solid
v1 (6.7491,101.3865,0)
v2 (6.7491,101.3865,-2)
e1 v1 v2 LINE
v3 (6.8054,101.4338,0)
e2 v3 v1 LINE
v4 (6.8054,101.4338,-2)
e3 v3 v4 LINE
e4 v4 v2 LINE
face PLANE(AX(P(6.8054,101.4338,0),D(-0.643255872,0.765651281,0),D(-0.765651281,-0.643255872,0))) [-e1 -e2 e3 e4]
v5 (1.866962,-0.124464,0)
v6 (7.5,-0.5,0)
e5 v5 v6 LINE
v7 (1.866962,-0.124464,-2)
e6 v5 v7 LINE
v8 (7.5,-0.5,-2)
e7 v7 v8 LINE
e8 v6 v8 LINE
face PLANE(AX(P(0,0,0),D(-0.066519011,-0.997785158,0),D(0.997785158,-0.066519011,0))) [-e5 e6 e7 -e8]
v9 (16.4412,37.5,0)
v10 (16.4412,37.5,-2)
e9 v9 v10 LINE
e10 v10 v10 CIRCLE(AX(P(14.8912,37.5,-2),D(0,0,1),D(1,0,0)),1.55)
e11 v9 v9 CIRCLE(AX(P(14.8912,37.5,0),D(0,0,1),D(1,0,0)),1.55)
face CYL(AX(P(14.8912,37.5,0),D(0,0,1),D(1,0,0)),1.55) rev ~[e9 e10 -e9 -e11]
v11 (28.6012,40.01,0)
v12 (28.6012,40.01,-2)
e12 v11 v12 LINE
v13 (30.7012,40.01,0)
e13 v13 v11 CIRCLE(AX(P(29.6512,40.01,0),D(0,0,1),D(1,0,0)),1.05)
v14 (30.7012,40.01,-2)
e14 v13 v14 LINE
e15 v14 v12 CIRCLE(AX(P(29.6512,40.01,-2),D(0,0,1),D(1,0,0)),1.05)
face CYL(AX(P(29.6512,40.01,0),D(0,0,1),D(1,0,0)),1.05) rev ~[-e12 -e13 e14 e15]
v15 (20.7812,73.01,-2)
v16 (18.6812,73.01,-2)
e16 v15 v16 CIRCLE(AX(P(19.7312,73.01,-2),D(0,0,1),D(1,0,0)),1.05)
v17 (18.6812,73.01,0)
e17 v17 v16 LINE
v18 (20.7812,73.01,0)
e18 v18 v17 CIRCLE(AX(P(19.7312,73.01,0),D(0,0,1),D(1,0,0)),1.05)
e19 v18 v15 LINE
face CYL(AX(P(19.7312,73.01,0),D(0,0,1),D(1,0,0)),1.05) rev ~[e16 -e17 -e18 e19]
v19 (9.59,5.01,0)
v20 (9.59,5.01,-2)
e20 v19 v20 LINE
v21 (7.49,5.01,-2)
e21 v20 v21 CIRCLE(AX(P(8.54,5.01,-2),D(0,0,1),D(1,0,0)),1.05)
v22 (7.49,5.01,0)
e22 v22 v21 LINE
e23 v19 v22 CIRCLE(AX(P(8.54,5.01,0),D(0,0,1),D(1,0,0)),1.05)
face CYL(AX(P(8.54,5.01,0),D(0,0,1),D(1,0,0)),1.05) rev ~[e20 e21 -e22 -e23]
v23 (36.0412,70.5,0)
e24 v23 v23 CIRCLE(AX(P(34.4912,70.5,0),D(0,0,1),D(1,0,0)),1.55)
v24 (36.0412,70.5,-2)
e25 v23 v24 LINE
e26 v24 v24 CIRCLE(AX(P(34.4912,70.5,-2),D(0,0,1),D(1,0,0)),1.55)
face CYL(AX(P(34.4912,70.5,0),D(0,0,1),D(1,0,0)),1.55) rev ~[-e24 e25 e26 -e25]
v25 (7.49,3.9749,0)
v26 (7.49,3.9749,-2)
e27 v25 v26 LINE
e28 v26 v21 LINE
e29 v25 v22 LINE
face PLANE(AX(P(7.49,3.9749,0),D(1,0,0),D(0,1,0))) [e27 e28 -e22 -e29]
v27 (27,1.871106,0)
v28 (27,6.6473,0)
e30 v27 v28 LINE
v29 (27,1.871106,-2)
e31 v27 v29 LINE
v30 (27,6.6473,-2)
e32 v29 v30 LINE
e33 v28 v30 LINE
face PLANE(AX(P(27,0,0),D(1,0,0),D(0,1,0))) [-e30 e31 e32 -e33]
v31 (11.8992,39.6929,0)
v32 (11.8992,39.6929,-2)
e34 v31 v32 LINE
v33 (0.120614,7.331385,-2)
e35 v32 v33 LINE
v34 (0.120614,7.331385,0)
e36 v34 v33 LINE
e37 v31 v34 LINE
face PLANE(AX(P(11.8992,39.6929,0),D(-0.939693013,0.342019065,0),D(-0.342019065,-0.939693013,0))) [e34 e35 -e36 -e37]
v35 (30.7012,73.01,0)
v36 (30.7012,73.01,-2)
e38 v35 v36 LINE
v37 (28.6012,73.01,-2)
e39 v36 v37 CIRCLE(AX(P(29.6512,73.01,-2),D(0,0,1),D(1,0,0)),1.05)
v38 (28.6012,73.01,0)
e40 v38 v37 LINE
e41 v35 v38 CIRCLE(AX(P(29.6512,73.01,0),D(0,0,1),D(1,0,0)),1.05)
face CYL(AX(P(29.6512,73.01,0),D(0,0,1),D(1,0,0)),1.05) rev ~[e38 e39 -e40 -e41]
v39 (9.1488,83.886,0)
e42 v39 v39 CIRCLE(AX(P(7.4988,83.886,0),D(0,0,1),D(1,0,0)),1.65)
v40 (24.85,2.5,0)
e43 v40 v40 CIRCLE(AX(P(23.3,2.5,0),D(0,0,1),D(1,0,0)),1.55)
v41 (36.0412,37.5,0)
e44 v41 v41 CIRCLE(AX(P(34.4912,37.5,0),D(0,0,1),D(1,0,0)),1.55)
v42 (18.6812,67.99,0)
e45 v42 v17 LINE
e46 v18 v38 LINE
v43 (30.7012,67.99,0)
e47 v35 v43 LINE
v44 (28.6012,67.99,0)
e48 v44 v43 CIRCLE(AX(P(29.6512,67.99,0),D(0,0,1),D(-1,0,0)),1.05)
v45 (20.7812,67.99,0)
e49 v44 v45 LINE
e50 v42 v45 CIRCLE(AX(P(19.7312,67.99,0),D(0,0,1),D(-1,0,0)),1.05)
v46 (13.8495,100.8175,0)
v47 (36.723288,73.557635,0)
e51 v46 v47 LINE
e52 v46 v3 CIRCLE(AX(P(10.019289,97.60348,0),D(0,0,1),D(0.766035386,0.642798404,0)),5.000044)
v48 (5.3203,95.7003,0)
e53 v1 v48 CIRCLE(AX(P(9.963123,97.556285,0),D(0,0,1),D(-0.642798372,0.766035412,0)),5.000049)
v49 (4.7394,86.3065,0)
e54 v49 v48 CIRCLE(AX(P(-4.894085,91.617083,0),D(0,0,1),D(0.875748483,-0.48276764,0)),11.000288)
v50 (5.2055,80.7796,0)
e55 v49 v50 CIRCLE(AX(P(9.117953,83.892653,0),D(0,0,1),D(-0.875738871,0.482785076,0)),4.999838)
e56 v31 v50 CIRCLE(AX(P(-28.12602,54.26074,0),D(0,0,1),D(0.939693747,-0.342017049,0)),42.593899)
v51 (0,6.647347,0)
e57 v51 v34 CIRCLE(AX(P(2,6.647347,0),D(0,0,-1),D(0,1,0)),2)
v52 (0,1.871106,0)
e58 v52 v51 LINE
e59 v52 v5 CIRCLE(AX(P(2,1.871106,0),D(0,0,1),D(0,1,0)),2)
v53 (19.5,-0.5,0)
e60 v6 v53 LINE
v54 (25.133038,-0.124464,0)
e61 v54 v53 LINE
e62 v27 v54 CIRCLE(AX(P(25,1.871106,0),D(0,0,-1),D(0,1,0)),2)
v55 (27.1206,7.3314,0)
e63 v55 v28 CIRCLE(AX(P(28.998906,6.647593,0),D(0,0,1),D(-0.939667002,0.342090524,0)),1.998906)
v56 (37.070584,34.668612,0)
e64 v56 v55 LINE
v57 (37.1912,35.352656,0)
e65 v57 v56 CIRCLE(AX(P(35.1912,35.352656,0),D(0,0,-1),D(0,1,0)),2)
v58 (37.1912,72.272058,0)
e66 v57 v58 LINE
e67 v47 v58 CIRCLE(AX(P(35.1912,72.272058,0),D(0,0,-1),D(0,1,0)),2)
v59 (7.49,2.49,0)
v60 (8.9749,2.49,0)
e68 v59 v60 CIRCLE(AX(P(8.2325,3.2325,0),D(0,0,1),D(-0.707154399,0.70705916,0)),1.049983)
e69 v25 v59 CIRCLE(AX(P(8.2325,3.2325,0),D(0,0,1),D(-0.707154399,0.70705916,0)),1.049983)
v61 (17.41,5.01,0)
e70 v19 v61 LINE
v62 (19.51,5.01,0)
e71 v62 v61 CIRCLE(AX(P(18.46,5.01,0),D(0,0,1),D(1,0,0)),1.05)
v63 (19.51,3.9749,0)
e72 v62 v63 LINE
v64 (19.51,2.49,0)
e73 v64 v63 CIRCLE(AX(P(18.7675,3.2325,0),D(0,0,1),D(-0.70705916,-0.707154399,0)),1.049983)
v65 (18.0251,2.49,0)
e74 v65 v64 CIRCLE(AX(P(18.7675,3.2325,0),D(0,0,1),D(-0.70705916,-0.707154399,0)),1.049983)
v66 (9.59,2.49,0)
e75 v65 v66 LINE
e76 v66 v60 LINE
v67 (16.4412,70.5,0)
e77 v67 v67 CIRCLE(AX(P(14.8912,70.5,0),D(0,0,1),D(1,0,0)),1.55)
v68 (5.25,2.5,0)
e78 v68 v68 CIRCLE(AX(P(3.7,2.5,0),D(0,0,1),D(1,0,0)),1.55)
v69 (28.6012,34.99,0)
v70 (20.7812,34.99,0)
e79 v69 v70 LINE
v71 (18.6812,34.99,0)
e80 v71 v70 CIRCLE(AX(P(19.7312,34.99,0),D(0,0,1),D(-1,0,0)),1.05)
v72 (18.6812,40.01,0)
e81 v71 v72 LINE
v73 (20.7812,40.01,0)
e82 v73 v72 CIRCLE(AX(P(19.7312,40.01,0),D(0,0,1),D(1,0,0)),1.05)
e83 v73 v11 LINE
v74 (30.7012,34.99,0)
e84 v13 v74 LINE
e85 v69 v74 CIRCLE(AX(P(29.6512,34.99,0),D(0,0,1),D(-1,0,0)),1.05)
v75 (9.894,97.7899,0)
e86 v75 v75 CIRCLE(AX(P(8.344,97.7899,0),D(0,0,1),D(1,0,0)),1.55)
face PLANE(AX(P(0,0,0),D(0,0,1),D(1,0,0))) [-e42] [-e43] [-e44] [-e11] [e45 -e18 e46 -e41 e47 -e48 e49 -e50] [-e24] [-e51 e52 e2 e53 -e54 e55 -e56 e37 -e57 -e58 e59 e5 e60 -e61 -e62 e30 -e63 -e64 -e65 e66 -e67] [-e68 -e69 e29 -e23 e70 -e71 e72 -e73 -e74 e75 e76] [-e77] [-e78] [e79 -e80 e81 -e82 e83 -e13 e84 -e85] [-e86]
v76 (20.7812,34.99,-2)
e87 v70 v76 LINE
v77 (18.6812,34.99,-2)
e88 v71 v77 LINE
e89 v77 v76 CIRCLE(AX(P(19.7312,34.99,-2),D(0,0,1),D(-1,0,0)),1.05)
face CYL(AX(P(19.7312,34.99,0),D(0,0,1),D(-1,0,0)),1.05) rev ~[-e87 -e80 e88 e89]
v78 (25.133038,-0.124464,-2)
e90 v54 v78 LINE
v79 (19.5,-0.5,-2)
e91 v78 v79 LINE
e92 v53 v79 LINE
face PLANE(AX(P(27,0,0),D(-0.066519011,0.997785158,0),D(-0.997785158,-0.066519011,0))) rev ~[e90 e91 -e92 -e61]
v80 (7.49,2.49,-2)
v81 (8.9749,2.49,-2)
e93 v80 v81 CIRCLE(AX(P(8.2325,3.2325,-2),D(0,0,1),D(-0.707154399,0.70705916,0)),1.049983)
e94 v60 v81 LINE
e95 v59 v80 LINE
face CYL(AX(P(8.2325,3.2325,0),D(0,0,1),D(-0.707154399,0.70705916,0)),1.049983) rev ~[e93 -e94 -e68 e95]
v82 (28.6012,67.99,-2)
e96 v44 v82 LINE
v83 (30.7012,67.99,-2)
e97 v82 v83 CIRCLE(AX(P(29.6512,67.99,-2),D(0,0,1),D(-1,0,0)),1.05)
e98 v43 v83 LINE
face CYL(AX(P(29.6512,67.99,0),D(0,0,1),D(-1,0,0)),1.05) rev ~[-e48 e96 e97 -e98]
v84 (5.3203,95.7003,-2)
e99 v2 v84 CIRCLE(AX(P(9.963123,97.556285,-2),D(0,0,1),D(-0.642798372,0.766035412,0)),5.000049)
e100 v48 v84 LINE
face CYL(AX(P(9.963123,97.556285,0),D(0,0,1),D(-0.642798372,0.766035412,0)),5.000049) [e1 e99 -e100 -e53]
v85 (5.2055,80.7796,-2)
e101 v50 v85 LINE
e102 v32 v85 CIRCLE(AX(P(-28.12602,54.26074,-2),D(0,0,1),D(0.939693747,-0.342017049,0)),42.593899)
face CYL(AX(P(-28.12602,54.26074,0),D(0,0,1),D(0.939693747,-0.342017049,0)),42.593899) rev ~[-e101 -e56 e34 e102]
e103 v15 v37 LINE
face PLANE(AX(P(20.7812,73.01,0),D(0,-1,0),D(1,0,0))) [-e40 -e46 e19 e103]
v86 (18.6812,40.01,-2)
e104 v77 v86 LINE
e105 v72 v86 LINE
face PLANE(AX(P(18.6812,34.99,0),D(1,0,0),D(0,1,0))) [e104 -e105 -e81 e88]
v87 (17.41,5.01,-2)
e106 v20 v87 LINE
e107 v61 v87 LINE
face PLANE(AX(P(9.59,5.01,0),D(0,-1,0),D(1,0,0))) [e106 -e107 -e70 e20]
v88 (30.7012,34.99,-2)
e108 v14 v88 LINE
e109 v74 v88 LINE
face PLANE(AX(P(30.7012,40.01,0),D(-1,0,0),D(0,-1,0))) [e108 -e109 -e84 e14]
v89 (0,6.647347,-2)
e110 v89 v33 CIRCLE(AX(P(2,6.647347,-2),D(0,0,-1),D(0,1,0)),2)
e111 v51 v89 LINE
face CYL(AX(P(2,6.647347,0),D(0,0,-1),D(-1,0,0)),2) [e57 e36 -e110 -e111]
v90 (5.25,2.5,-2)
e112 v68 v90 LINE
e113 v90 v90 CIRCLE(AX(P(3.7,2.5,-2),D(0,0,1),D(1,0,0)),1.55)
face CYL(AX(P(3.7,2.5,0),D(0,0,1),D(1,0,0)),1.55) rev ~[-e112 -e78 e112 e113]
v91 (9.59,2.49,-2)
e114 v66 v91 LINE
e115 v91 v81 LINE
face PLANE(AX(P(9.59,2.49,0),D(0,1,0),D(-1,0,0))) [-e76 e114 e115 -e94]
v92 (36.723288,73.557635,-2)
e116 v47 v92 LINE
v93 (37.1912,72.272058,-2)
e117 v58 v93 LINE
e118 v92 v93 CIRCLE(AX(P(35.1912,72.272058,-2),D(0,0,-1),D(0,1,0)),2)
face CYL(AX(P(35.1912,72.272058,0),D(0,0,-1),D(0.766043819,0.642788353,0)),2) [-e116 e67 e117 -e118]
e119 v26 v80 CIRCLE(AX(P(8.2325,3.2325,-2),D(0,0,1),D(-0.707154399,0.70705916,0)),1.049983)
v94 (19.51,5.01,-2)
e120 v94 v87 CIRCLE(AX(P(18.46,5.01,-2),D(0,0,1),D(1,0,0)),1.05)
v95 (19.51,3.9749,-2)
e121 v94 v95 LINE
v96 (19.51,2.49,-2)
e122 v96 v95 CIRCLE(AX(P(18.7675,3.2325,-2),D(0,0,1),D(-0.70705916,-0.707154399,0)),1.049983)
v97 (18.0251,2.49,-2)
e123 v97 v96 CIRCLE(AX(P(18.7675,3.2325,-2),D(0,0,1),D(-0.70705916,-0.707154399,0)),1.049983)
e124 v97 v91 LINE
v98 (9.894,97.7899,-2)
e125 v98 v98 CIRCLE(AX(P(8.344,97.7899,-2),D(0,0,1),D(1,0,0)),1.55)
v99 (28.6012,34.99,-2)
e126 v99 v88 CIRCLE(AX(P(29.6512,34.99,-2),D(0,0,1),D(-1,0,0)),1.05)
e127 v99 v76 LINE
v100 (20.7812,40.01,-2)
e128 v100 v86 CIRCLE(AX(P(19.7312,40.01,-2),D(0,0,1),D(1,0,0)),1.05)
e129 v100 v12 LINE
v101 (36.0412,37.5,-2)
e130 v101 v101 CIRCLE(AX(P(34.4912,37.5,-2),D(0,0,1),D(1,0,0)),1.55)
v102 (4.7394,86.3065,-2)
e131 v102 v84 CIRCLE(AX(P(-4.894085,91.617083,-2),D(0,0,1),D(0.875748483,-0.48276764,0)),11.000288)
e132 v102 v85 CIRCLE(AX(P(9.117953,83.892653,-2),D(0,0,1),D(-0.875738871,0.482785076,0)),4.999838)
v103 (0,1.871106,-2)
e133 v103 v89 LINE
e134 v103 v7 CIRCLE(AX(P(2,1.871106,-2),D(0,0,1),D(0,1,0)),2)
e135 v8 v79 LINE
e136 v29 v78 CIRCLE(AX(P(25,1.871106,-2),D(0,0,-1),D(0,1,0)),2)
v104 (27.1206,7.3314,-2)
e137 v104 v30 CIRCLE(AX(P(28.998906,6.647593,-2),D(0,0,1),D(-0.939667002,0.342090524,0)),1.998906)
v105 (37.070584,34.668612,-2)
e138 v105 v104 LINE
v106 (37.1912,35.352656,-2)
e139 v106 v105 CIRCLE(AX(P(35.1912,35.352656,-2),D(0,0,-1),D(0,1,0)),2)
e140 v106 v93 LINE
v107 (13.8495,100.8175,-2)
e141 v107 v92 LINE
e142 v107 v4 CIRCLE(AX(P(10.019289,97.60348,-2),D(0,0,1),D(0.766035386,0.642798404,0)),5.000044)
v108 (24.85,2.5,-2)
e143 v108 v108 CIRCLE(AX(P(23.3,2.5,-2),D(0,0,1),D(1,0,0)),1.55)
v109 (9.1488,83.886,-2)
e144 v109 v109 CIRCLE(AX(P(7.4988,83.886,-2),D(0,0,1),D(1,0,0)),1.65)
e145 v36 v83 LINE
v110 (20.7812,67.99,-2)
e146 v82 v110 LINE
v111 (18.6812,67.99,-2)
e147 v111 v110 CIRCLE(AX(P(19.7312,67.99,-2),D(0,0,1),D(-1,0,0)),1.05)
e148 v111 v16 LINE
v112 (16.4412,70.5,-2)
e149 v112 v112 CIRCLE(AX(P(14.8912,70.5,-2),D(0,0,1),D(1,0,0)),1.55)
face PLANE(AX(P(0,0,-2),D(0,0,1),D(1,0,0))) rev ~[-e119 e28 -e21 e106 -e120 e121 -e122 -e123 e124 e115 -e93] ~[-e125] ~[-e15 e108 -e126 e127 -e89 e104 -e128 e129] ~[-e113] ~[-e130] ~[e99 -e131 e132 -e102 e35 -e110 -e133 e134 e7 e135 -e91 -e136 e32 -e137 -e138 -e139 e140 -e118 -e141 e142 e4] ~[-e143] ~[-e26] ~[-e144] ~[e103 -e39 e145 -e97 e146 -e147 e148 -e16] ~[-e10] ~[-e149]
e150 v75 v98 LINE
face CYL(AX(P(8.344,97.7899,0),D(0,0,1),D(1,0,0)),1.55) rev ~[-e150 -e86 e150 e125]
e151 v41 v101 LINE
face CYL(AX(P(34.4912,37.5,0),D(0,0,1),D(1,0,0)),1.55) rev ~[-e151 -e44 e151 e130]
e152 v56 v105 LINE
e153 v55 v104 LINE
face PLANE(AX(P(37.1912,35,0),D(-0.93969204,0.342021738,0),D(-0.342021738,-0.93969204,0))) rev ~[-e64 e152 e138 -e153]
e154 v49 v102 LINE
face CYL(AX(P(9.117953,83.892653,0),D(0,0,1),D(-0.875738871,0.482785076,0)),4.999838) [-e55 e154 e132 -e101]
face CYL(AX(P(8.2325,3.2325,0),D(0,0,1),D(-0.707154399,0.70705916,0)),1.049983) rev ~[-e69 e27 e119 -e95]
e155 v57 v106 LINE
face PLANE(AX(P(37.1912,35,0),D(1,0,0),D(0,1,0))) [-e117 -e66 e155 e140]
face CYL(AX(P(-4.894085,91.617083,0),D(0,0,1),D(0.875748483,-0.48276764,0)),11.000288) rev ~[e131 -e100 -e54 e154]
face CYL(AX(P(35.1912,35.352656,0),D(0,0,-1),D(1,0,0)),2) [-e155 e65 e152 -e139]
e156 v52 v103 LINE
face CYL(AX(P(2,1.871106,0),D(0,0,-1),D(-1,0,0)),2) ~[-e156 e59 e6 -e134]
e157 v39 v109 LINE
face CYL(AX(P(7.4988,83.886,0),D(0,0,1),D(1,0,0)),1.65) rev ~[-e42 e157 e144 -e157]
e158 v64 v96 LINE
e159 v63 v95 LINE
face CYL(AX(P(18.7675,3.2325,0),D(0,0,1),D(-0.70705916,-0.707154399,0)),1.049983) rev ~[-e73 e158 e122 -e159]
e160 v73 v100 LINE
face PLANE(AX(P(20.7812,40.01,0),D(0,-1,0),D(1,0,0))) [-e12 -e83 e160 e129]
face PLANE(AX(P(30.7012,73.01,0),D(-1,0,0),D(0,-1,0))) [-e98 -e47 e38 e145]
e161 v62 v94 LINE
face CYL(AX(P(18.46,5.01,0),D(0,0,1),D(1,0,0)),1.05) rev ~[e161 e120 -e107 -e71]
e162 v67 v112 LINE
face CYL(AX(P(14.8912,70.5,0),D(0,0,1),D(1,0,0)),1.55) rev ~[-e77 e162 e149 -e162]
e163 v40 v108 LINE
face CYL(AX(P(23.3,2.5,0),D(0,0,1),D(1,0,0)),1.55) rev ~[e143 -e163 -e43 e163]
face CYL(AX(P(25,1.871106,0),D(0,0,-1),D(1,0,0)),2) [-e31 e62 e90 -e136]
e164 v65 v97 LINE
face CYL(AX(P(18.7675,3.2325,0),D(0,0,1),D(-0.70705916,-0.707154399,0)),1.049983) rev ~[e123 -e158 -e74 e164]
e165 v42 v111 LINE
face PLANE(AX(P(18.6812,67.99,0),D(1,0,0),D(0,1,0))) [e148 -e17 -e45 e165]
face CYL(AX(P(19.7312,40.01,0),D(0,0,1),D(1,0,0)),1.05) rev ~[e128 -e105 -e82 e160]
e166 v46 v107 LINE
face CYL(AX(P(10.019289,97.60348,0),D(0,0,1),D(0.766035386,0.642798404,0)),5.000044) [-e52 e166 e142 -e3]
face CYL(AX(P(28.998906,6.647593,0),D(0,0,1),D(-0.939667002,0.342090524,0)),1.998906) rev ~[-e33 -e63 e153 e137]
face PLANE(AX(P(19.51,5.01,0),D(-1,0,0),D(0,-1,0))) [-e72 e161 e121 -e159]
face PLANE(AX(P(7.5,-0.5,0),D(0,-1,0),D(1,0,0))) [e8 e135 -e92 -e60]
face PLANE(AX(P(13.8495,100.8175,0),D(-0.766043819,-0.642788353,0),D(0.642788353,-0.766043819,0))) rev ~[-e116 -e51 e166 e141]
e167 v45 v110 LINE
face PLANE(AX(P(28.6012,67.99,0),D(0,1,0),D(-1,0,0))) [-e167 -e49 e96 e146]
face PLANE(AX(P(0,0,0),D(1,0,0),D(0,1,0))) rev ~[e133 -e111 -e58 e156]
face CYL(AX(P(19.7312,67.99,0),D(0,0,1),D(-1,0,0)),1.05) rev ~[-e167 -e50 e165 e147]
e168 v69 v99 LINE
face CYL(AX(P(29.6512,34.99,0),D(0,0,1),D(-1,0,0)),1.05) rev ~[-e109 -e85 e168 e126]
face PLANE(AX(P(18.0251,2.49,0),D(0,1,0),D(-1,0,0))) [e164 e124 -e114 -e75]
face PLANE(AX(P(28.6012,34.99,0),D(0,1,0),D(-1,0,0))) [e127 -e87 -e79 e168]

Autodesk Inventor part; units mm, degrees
ref_plane "YZ Plane" through (0, 0, 0) normal (1, 0, 0) x (0, 1, 0)
ref_plane "XZ Plane" through (0, 0, 0) normal (0, 1, 0) x (-1, 0, 0)
ref_plane "XY Plane" through (0, 0, 0) normal (0, 0, 1) x (1, 0, 0)
sketch "スケッチ1" plane through (0, 0, 0) normal (0, 0, 1) x (1, 0, 0)
  line L0 (0, 0) -> (27, 0) construction
  line L1 (27, 0) -> (27, 5) construction
  line L2 (27, 5) -> (0, 5) construction
  line L3 (0, 5) -> (0, 0) construction
  line L4 (0, 2.5) -> (27, 2.5) construction
  line L5 (13.5, 5) -> (13.5, 0) construction
  circle A0 centre (3.7, 2.5) radius 1.55
  line L6 (7.5, 5) -> (7.5, 0) construction
  circle A1 centre (23.3, 2.5) radius 1.55
  line L7 (19.5, 5) -> (19.5, 0) construction
  line L8 (7.49, 5.01) -> (9.59, 5.01) construction
  line L9 (19.51, 5.01) -> (19.51, 2.49)
  line L10 (19.51, 2.49) -> (7.49, 2.49)
  line L11 (7.49, 2.49) -> (7.49, 5.01)
  line L12 (7.49, 5.01) -> (19.51, 2.49) construction
  line L13 (19.51, 5.01) -> (7.49, 2.49) construction
  arc A2 (9.59, 5.01) -> (7.49, 5.01) centre (8.54, 5.01) ccw
  arc A3 (19.51, 5.01) -> (17.41, 5.01) centre (18.46, 5.01) ccw
  line L14 (9.59, 5.01) -> (17.41, 5.01)
  line L15 (9.59, 2.49) -> (7.49, 2.49)
  line L16 (17.41, 5.01) -> (19.51, 5.01) construction
  line L17 (27, 7) -> (0, 7) construction
  line L18 (0, 0) -> (0, 7)
  line L19 (12.1912, 35) -> (37.1912, 35) construction
  line L20 (37.1912, 35) -> (37.1912, 40) construction
  line L21 (37.1912, 40) -> (12.1912, 40) construction
  line L22 (12.1912, 40) -> (12.1912, 35) construction
  line L23 (12.1912, 37.5) -> (37.1912, 37.5) construction
  line L24 (24.6912, 40) -> (24.6912, 35) construction
  circle A4 centre (14.8912, 37.5) radius 1.55
  line L25 (18.6912, 40) -> (18.6912, 35) construction
  line L26 (30.6912, 40) -> (30.6912, 35) construction
  circle A5 centre (34.4912, 37.5) radius 1.55
  line L27 (18.6812, 40.01) -> (20.7812, 40.01) construction
  line L28 (30.7012, 40.01) -> (30.7012, 34.99)
  line L29 (30.7012, 34.99) -> (28.6012, 34.99) construction
  line L30 (18.6812, 34.99) -> (18.6812, 40.01)
  line L31 (18.6812, 40.01) -> (30.7012, 34.99) construction
  line L32 (30.7012, 40.01) -> (18.6812, 34.99) construction
  arc A6 (20.7812, 40.01) -> (18.6812, 40.01) centre (19.7312, 40.01) ccw
  arc A7 (18.6812, 34.99) -> (20.7812, 34.99) centre (19.7312, 34.99) ccw
  arc A8 (30.7012, 40.01) -> (28.6012, 40.01) centre (29.6512, 40.01) ccw
  arc A9 (28.6012, 34.99) -> (30.7012, 34.99) centre (29.6512, 34.99) ccw
  line L33 (20.7812, 40.01) -> (28.6012, 40.01)
  line L34 (20.7812, 34.99) -> (18.6812, 34.99) construction
  line L35 (28.6012, 40.01) -> (30.7012, 40.01) construction
  line L36 (28.6012, 34.99) -> (20.7812, 34.99)
  line L37 (12.1912, 73) -> (12.1912, 68) construction
  circle A10 centre (14.8912, 70.5) radius 1.55
  line L38 (37.1912, 68) -> (37.1912, 73) construction
  line L39 (30.6912, 73) -> (30.6912, 68) construction
  circle A11 centre (34.4912, 70.5) radius 1.55
  line L40 (30.7012, 73.01) -> (30.7012, 67.99)
  line L41 (18.6912, 73) -> (18.6912, 68) construction
  line L42 (12.1912, 68) -> (37.1912, 68) construction
  line L43 (37.1912, 73) -> (12.1912, 73) construction
  line L44 (12.1912, 70.5) -> (37.1912, 70.5) construction
  line L45 (24.6912, 73) -> (24.6912, 68) construction
  line L46 (20.7812, 73.01) -> (28.6012, 73.01)
  line L47 (28.6012, 67.99) -> (20.7812, 67.99)
  line L48 (18.6812, 73.01) -> (30.7012, 67.99) construction
  line L49 (30.7012, 73.01) -> (18.6812, 67.99) construction
  arc A12 (30.7012, 73.01) -> (28.6012, 73.01) centre (29.6512, 73.01) ccw
  line L50 (28.6012, 73.01) -> (30.7012, 73.01) construction
  arc A13 (28.6012, 67.99) -> (30.7012, 67.99) centre (29.6512, 67.99) ccw
  line L51 (30.7012, 67.99) -> (28.6012, 67.99) construction
  line L52 (18.6812, 73.01) -> (20.7812, 73.01) construction
  line L53 (20.7812, 67.99) -> (18.6812, 67.99) construction
  arc A14 (20.7812, 73.01) -> (18.6812, 73.01) centre (19.7312, 73.01) ccw
  arc A15 (18.6812, 67.99) -> (20.7812, 67.99) centre (19.7312, 67.99) ccw
  line L54 (18.6812, 67.99) -> (18.6812, 73.01)
  line L55 (27, 0) -> (27, 6.6473)
  line L56 (37.1912, 35) -> (27.1206, 7.3314)
  line L57 (11.8992, 39.6929) -> (0, 7)
  line L58 (37.1912, 35) -> (37.1912, 73)
  line L59 (6.8054, 101.4338) -> (6.7491, 101.3865)
  arc A16 (4.7394, 86.3065) -> (5.3203, 95.7003) centre (-4.8938, 91.617) ccw
  circle A17 centre (-4.8938, 91.617) radius 14.6063 construction
  line L60 (1.0459, 61.9185) -> (-21.5815, 84.5459) construction
  line L61 (-21.5815, 84.5459) -> (-18.0459, 88.0815) construction
  line L62 (-18.0459, 88.0815) -> (4.5815, 65.4541) construction
  line L63 (4.5815, 65.4541) -> (1.0459, 61.9185) construction
  line L64 (1.0459, 61.9185) -> (-18.0459, 88.0815) construction
  line L65 (-21.5815, 84.5459) -> (4.5815, 65.4541) construction
  line L66 (13.8495, 100.8175) -> (37.1912, 73)
  arc A18 (11.8992, 39.6929) -> (5.2055, 80.7796) centre (-28.1256, 54.2607) ccw
  arc A19 (8.344, 97.7899) -> (6.2953, 101.0057) centre (-4.8938, 91.617) ccw construction
  arc A20 (5.0756, 80.942) -> (7.4988, 83.886) centre (-4.8938, 91.617) ccw construction
  circle A21 centre (8.344, 97.7899) radius 1.55
  circle A22 centre (7.4988, 83.886) radius 1.65
  arc A23 (13.8495, 100.8175) -> (6.8054, 101.4338) centre (10.0193, 97.6035) ccw
  arc A24 (6.7491, 101.3865) -> (5.3203, 95.7003) centre (9.9631, 97.5563) ccw
  arc A25 (4.7394, 86.3065) -> (5.2055, 80.7796) centre (9.1182, 83.8926) ccw
  arc A26 (27.1206, 7.3314) -> (27, 6.6473) centre (29, 6.6473) ccw
  arc A27 (7.49, 3.9749) -> (8.9749, 2.49) centre (8.2325, 3.2325) ccw
  arc A28 (18.0251, 2.49) -> (19.51, 3.9749) centre (18.7675, 3.2325) ccw
  line L67 (0, 0) -> (7.5, -0.5)
  line L68 (7.5, -0.5) -> (19.5, -0.5)
  line L69 (27, 0) -> (19.5, -0.5)
  point P0 (24.6912, 37.5)
  point P1 (24.6912, 70.5)
  point P2 (10.6356, 104.6477)
  point P3 (3.5327, 98.6877)
  point P4 (-8.5, 75)
  point P5 (19.51, 3.9749)
  point P6 (18.0251, 2.49)
  point P7 (5.8711, 81.4297)
  dimension "d0" = 27
  dimension "d1" = 5
  dimension "d2" = 3.1
  dimension "d3" = 12
  dimension "d4" = 19.6
  dimension "d9" = 1.05
  dimension "d10" = 7
  dimension "d11" = 25
  dimension "d12" = 5
  dimension "d13" = 3.1
  dimension "d14" = 12
  dimension "d15" = 19.6
  dimension "d16" = 0.01
  dimension "d17" = 0.01
  dimension "d20" = 1.05
  dimension "d22" = 25
  dimension "d23" = 5
  dimension "d24" = 3.1
  dimension "d25" = 12
  dimension "d26" = 19.6
  dimension "d27" = 0.01
  dimension "d28" = 0.01
  dimension "d29" = 1.05
  dimension "d30" = 70
  dimension "d31" = 66
  dimension "d32" = 33
  dimension "d37" = 5
  dimension "d38" = 75
  dimension "d39" = 135
  dimension "d40" = 8.5
  dimension "d46" = 11.8
  dimension "d47" = 32
  dimension "d48" = 50
  dimension "d49" = 6.8
  dimension "d50" = 11
  dimension "d51" = 29.2126
  dimension "d54" = 15
  dimension "d55" = 15
  dimension "d56" = 3.1
  dimension "d57" = 3.3
  dimension "d60" = 5
  dimension "d61" = 2
  dimension "d62" = 1.05
  dimension "d64" = 2.52
  dimension "d65" = 0.01
  dimension "d66" = 0.01
  dimension "d67" = 0.5
  dimension "d69" = 12
extrude "押し出し1" add sketch "スケッチ1" against normal blind 2
fillet "フィレット1" radius 2 5 edges at (37.1912, 73, -1) (37.1912, 35, -1) (0, 7, -1) (27, 0, -1) (0, 0, -1)
equation "\"d12\" = d1"
equation "\"d13\" = d2"
equation "\"d14\" = d3"
equation "\"d15\" = d4"
equation "\"d16\" = d6"
equation "\"d17\" = d6"
equation "\"d22\" = d11"
equation "\"d23\" = d1"
equation "\"d24\" = d2"
equation "\"d25\" = d3"
equation "\"d26\" = d4"
equation "\"d27\" = d6"
equation "\"d28\" = d6"
equation "\"d32\" = 0.5 * d31"
equation "\"d6\" = 0.01"
properties part number "Head_side_frame" material "GFRP"
